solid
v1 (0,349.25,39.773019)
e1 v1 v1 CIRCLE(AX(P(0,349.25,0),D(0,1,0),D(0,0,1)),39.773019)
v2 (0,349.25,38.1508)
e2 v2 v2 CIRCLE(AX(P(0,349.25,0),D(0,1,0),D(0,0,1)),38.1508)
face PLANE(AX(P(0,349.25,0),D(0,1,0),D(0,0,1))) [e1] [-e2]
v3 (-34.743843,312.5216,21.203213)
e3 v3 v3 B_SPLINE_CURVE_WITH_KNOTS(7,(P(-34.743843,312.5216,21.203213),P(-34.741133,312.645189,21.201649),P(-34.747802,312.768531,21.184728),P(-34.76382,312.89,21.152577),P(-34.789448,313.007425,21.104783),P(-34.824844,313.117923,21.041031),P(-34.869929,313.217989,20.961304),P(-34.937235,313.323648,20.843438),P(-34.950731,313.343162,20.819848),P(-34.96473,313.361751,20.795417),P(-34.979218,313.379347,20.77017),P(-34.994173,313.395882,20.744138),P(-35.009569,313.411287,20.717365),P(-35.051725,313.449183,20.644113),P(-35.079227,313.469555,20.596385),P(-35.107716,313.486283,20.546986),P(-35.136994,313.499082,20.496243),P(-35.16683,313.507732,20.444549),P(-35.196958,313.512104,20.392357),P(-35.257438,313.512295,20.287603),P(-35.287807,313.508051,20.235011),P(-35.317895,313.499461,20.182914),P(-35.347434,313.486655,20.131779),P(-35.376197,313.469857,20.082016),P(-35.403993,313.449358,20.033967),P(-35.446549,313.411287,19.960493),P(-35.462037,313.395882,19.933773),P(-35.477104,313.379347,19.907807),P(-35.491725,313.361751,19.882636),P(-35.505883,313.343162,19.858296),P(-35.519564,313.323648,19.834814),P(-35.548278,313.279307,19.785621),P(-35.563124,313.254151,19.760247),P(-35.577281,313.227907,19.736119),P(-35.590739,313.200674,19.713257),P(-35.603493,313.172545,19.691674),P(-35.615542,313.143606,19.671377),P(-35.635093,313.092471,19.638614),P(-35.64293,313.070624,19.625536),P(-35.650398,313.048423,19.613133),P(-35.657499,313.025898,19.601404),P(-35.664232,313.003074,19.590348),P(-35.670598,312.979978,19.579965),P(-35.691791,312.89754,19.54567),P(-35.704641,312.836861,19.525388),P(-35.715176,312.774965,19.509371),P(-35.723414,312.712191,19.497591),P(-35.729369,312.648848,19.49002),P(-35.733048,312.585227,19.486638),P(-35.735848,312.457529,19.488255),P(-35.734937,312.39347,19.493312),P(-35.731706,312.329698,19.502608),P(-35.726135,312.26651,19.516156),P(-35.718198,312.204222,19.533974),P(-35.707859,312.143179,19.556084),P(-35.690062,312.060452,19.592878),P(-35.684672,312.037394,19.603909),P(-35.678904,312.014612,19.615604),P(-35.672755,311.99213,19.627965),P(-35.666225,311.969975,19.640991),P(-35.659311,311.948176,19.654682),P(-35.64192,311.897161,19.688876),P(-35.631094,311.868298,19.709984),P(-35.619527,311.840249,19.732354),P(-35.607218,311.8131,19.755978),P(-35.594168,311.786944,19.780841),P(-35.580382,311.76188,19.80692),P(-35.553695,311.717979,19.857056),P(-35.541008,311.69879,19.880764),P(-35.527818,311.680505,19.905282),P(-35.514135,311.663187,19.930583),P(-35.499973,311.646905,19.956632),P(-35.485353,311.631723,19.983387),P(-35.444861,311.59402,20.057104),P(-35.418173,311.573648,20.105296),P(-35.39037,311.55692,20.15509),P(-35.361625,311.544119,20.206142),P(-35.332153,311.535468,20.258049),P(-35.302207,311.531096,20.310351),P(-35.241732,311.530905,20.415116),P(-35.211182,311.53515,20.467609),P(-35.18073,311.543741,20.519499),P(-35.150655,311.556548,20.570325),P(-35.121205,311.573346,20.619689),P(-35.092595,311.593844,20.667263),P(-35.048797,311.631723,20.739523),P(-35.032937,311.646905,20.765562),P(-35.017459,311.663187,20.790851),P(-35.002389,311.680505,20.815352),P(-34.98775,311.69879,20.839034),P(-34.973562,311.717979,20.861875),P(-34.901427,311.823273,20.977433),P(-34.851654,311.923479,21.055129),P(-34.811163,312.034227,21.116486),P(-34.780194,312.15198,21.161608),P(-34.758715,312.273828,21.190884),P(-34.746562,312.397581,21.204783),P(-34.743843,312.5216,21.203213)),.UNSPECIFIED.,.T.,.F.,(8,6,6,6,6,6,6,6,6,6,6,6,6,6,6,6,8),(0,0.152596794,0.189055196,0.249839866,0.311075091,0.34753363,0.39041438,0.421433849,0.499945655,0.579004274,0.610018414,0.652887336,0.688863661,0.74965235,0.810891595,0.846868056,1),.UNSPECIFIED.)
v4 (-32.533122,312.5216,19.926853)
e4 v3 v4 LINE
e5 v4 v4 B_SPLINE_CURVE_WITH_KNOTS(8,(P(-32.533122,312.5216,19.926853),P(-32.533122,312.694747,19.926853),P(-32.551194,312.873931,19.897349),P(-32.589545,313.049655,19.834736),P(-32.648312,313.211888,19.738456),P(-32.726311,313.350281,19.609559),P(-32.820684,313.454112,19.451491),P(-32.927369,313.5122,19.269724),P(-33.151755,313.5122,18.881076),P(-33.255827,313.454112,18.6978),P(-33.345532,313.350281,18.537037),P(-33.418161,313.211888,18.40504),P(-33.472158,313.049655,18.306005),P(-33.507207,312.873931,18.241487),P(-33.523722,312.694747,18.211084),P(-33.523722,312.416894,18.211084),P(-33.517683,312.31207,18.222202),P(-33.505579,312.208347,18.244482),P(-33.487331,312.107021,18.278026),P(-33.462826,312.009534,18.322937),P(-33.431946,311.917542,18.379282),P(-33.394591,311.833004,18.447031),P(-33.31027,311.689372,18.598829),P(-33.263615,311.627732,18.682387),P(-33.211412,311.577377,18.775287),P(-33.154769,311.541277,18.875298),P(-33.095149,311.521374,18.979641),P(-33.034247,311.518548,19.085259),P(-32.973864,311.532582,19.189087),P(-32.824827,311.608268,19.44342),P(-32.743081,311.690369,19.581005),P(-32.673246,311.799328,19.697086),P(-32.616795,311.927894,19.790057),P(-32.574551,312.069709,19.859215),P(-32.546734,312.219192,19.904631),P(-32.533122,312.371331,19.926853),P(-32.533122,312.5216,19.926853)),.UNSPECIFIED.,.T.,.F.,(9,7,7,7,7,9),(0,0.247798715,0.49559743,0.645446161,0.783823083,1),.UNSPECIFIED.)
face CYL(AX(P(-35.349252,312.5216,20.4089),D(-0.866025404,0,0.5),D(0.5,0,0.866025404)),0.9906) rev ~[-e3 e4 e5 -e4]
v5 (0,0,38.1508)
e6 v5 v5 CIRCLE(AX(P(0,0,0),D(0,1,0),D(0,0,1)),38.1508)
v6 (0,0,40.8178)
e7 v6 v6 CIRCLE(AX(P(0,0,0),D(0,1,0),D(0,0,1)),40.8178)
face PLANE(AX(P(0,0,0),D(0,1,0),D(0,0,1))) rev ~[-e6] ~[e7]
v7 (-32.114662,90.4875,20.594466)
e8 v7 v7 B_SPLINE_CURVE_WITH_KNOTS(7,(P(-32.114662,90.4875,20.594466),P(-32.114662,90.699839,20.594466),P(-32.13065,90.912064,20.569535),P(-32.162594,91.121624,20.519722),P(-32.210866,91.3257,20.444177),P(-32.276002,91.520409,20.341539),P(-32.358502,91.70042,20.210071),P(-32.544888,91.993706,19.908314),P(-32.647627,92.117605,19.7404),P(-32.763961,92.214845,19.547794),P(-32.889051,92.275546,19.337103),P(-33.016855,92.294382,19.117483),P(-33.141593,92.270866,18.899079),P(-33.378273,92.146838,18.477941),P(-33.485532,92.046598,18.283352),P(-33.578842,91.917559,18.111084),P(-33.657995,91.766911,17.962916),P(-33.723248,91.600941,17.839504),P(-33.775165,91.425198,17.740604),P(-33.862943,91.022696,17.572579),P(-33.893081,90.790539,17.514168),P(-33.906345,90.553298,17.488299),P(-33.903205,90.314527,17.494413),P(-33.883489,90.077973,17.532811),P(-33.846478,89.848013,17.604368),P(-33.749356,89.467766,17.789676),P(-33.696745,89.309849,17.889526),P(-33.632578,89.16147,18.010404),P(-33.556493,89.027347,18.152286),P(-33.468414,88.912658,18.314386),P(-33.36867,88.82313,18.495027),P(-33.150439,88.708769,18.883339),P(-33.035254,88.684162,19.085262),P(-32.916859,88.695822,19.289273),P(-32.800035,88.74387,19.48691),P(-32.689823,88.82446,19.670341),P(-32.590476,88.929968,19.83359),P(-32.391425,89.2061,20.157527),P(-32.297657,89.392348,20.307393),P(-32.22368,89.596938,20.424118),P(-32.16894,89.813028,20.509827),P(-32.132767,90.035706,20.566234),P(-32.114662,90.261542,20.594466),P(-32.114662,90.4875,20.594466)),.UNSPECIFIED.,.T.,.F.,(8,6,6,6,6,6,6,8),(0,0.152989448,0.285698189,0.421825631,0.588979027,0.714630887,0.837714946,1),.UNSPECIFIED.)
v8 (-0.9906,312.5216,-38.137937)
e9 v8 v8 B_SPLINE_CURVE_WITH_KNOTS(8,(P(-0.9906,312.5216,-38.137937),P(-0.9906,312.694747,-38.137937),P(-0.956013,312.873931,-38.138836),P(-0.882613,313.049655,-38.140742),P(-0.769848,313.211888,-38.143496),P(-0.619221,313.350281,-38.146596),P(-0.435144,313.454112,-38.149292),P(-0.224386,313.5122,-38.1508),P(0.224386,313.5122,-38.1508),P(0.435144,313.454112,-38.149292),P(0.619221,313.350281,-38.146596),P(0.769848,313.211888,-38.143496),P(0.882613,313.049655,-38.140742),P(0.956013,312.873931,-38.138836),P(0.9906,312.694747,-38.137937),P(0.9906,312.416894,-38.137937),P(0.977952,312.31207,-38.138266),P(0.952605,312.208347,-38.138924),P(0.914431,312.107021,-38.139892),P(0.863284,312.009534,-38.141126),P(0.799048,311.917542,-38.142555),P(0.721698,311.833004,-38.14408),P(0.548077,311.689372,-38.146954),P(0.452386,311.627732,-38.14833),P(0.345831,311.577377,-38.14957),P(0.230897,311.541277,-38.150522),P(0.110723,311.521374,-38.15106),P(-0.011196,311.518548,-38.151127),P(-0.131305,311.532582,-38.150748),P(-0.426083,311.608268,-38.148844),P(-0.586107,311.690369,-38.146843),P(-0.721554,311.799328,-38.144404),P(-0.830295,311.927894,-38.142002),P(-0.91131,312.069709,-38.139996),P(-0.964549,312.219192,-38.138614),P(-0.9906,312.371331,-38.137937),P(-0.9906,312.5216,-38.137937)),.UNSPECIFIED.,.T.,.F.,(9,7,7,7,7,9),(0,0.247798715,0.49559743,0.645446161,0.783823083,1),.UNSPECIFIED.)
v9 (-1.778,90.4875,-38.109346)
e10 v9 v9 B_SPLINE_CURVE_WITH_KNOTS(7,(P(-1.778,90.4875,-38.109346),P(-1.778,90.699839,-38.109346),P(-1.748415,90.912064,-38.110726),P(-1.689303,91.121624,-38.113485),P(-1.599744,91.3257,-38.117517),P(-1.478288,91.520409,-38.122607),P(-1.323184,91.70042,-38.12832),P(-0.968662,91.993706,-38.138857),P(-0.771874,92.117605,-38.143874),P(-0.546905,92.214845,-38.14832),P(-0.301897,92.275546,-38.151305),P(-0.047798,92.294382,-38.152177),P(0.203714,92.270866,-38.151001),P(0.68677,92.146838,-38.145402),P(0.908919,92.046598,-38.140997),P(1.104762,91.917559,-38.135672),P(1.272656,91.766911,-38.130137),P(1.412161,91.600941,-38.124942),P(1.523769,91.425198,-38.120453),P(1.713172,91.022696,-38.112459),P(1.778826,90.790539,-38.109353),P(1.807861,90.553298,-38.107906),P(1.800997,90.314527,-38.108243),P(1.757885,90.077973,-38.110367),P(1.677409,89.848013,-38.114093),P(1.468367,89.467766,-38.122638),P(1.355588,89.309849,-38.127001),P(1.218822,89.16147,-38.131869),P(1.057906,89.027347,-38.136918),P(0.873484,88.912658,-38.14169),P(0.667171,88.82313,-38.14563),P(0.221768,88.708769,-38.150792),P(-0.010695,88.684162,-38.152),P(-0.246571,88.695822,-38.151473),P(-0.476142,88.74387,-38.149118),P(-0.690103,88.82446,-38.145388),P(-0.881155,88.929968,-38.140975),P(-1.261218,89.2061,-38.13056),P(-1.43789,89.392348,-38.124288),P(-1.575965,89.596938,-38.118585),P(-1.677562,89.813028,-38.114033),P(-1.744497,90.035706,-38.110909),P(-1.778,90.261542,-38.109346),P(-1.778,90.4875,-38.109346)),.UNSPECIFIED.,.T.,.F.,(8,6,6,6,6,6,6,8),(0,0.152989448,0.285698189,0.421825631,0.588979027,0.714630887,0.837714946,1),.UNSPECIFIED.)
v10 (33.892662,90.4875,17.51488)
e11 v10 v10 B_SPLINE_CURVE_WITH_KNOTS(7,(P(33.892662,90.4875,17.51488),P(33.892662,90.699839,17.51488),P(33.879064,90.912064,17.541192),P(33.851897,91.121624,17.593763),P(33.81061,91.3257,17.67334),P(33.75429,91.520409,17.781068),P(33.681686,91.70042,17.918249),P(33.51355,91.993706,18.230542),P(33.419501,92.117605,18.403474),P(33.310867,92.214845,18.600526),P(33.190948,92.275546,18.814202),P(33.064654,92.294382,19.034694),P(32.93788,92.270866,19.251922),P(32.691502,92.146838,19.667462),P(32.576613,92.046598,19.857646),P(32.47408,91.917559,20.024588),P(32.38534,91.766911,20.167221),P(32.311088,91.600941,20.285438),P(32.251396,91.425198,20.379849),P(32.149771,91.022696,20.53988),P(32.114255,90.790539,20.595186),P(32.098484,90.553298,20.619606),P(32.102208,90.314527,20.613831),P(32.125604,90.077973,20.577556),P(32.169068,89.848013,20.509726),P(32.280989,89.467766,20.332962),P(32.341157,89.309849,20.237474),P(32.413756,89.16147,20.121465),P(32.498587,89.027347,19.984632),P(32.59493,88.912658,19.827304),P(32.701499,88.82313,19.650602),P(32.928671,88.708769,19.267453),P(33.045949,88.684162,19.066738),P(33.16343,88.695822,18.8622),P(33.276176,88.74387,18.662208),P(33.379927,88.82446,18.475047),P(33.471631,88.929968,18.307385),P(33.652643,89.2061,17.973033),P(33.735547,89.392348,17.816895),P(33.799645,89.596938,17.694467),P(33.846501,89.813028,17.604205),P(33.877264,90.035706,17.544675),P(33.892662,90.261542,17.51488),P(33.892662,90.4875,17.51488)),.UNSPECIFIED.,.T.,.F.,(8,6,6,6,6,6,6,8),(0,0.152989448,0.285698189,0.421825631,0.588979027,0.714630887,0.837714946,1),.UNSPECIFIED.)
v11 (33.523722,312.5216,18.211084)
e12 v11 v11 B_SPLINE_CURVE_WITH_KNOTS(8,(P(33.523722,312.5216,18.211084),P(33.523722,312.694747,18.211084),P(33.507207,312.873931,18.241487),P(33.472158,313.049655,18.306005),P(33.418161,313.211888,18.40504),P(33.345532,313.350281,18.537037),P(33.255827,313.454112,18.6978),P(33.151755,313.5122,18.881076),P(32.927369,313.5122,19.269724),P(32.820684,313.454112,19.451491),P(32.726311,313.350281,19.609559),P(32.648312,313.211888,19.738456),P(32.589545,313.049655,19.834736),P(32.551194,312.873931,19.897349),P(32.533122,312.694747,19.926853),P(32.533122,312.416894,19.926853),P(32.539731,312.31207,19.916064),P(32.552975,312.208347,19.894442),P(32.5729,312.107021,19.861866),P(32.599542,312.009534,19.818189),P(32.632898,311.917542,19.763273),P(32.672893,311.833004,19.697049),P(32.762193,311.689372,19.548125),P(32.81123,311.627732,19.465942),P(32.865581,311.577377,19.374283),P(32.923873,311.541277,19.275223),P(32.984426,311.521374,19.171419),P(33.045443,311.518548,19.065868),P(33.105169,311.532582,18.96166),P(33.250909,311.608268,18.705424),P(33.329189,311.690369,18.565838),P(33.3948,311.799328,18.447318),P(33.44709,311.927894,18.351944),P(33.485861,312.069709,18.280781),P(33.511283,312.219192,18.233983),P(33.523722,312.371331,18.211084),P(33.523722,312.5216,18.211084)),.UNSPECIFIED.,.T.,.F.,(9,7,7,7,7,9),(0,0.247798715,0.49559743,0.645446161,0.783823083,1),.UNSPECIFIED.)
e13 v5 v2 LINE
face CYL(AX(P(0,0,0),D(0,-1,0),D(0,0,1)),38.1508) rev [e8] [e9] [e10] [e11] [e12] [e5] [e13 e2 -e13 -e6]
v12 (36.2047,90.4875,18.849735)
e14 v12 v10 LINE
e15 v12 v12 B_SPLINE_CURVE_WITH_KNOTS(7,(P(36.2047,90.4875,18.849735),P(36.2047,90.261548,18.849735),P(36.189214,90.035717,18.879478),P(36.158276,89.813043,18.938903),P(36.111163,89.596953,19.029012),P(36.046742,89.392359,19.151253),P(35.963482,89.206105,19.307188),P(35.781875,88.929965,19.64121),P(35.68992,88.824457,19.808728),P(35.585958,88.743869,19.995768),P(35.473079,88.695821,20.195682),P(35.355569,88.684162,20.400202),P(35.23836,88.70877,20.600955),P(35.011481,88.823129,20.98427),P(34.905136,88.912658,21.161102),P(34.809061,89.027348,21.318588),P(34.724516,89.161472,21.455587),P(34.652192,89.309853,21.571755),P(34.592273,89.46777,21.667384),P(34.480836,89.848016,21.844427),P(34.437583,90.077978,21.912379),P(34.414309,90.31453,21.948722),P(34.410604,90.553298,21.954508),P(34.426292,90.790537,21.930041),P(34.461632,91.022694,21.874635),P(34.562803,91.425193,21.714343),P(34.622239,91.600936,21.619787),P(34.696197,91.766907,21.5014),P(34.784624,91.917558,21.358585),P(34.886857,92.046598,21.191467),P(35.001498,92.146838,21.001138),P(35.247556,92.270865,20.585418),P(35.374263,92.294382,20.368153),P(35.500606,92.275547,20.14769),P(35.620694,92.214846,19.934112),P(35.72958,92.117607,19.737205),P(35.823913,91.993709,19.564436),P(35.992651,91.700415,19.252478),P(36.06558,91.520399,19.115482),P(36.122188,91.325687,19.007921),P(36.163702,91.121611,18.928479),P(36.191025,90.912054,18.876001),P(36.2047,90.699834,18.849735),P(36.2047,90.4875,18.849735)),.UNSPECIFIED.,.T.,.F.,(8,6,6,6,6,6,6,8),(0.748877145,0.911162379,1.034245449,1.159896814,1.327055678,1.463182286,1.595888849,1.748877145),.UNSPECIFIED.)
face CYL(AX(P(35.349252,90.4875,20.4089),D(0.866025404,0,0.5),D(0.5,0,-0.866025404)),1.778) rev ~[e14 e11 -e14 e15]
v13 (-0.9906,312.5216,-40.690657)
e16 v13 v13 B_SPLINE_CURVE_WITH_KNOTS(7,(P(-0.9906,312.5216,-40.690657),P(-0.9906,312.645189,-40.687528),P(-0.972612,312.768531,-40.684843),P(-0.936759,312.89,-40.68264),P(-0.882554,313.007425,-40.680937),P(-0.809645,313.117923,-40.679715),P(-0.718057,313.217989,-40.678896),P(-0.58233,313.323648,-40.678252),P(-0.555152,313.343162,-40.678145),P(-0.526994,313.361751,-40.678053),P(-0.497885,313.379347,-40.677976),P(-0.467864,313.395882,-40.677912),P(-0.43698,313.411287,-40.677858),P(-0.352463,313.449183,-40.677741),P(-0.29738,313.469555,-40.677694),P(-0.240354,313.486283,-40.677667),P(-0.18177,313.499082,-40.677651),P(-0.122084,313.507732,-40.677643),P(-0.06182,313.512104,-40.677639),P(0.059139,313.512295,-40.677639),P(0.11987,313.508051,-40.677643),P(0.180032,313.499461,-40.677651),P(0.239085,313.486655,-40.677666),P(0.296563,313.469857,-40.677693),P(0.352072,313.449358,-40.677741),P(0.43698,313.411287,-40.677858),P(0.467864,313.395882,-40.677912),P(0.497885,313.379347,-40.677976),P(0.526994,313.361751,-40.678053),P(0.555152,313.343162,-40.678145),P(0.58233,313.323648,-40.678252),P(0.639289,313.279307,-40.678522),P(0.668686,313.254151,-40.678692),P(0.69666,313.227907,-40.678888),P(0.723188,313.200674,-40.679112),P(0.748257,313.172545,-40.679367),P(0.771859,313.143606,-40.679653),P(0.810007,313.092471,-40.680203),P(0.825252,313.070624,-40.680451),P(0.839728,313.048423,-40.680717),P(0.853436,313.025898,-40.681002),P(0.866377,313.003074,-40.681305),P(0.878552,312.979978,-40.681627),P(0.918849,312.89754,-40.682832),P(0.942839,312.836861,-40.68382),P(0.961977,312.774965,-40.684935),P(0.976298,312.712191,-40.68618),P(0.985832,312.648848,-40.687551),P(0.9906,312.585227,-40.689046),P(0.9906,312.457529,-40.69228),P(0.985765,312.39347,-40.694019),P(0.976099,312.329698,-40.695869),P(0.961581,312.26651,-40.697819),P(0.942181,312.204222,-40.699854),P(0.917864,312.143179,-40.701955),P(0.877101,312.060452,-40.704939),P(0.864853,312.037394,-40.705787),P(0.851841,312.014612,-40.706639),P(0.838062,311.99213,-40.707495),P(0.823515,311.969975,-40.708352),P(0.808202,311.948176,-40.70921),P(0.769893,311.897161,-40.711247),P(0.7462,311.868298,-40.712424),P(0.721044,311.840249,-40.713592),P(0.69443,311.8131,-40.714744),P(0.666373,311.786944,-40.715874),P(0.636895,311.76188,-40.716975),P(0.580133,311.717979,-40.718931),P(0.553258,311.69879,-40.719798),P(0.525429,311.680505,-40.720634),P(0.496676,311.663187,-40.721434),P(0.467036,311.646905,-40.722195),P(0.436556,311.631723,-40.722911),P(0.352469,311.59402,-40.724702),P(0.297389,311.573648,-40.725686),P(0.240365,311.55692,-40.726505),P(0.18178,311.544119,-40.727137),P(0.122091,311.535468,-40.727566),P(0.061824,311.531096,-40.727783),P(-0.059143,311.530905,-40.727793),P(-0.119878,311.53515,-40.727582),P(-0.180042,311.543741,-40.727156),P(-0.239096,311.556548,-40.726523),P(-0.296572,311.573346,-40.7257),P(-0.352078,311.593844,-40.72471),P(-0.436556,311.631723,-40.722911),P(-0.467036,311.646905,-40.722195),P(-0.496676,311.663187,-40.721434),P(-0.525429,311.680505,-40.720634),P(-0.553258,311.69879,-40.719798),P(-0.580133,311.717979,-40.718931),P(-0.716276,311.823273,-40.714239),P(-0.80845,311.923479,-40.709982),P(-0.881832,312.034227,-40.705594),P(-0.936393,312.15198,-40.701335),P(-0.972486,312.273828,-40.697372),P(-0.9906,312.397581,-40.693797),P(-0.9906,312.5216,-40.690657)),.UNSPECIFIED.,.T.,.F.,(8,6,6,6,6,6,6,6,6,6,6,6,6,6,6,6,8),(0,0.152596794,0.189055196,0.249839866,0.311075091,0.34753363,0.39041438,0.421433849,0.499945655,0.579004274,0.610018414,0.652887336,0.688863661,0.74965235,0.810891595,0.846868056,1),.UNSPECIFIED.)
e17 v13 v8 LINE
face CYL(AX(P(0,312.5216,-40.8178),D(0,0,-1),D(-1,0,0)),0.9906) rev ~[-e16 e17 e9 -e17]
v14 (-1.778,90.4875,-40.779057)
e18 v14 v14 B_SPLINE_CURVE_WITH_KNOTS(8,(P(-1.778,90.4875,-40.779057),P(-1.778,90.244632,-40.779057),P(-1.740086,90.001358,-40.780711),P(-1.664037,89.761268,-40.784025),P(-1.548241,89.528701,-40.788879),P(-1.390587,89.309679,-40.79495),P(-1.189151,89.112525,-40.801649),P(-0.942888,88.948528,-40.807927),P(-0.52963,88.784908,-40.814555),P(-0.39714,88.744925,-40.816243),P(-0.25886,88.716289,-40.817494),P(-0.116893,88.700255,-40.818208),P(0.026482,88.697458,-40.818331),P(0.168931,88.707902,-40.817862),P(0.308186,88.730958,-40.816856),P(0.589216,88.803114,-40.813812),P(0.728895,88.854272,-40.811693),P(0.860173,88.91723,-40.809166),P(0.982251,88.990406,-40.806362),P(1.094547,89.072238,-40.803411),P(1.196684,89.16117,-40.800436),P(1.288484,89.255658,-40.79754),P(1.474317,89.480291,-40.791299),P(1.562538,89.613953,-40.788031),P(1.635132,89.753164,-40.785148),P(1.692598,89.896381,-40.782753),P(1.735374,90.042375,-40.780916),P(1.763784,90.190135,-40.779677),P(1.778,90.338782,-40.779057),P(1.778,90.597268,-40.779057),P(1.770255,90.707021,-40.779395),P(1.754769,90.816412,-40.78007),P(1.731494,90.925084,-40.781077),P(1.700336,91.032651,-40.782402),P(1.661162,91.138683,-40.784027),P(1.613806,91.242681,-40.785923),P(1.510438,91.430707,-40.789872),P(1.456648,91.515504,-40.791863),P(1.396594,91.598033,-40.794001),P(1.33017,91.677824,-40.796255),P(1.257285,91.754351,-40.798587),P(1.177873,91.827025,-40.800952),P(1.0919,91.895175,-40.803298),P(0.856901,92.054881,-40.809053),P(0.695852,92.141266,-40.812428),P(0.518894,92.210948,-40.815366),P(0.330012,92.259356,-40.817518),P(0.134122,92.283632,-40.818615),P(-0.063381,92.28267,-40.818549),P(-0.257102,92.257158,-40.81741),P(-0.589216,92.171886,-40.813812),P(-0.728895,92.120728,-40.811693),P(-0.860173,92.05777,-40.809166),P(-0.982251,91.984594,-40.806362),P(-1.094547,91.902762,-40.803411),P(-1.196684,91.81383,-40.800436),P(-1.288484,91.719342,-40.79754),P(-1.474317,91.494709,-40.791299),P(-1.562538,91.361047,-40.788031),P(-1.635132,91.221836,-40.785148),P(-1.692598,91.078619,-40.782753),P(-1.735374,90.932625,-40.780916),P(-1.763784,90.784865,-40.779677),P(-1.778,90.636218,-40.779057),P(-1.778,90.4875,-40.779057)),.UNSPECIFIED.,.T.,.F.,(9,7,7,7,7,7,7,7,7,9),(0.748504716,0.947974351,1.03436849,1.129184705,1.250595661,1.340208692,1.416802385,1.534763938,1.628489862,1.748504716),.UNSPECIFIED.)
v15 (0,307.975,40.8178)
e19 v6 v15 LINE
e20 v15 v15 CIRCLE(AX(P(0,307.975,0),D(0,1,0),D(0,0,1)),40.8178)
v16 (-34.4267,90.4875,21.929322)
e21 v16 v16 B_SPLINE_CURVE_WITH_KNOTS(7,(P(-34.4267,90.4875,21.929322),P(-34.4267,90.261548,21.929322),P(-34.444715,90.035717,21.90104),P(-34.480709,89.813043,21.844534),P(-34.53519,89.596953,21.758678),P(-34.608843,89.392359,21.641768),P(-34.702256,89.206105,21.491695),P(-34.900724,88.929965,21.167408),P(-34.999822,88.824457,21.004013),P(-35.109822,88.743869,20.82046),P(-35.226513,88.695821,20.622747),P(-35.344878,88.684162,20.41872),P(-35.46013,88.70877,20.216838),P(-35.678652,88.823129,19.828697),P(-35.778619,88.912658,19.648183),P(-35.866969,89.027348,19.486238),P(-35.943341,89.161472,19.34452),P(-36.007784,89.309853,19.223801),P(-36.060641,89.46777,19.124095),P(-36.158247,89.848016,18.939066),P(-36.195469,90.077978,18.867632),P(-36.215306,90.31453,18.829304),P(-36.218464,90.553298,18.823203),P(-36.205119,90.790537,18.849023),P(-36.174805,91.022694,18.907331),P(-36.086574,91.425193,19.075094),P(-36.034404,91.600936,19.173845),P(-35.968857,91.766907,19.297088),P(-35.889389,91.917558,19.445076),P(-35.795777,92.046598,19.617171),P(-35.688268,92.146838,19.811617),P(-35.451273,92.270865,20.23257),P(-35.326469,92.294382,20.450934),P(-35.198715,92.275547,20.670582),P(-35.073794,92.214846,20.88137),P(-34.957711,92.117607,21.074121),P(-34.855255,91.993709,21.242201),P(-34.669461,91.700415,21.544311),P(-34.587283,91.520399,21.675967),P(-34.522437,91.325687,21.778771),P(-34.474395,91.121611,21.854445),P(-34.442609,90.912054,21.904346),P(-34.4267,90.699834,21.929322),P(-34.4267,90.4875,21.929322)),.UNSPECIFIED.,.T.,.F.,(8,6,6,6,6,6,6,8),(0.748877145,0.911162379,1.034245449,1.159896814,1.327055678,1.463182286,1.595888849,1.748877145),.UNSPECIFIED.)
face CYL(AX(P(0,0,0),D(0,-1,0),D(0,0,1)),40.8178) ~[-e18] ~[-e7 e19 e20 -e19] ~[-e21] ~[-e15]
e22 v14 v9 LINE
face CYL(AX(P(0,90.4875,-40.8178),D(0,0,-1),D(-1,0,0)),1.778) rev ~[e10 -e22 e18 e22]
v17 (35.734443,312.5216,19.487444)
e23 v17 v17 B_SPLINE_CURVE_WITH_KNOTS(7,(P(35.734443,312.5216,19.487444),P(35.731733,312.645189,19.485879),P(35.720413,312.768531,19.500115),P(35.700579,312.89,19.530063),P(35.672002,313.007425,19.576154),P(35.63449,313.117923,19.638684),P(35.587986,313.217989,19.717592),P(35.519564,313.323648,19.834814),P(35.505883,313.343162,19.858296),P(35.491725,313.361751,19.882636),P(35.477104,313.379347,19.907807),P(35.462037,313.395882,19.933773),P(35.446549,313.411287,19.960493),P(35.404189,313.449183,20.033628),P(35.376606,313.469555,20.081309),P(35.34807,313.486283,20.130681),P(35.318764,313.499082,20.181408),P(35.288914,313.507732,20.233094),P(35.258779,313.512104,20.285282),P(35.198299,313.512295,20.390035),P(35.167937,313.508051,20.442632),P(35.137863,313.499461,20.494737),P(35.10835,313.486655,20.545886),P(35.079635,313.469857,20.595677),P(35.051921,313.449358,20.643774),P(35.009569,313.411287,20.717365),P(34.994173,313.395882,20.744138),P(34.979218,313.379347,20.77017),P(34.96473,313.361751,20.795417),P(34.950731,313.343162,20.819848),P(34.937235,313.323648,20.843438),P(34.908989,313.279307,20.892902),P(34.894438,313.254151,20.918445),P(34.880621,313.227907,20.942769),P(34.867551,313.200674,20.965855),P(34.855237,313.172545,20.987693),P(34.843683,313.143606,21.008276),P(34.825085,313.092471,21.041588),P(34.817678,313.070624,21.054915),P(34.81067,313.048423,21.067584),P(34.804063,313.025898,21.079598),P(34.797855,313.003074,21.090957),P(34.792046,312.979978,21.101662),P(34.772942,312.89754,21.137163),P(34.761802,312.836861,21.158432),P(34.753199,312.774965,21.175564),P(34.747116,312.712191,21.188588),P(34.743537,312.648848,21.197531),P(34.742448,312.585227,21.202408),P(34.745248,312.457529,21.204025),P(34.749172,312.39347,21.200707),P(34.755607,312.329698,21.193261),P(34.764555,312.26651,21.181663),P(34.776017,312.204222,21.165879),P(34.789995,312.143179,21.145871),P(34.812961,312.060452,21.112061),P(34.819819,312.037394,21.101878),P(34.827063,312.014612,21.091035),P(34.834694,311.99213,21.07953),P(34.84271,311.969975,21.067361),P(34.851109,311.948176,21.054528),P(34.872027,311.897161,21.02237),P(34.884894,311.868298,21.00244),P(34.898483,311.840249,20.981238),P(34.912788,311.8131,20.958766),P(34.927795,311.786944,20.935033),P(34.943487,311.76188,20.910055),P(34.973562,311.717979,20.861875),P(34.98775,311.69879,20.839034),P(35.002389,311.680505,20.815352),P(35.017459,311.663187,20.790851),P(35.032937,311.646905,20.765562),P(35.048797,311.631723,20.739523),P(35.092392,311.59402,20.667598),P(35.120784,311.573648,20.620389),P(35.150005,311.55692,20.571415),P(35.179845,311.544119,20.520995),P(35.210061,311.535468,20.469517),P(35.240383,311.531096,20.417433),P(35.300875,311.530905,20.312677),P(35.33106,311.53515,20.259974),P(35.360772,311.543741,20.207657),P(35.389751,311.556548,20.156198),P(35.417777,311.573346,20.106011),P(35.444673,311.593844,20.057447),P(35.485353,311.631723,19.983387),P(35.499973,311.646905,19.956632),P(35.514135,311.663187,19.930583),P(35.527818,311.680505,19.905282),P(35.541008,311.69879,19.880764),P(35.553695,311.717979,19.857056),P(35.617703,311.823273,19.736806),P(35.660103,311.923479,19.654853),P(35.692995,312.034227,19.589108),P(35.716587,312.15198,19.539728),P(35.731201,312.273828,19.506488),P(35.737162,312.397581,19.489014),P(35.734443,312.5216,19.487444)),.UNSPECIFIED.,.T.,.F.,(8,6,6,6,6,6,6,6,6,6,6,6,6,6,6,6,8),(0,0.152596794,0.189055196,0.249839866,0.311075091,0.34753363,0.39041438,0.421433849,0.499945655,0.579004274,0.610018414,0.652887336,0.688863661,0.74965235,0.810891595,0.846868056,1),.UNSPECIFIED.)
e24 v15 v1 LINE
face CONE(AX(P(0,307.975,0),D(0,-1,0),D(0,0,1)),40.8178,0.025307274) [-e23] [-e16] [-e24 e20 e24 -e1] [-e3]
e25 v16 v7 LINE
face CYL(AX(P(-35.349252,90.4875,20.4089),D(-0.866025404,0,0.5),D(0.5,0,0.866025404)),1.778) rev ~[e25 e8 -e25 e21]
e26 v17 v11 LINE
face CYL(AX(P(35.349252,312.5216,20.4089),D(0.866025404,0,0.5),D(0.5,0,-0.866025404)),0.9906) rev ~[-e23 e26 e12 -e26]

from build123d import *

# Parameters (mm, degrees)
SKETCH1_R                    = 40.8178
SKETCH1_R_2                  = 38.1508
BOSS_EXTRUDE1_DEPTH          = 349.25
SANDING_CHAMFER_SIZE         = 41.275
SANDING_CHAMFER_SIZE2        = 1.044780796
AIRFRAME_BOLT_CUT_REACH      = 364.665
AIRFRAME_BOLT_CUT_END_RADIUS = 38.1508
SKETCH2_R                    = 1.778
AIRFRAME_BOLT_PATTERN_COUNT  = 3
SHEAR_PIN_CUT_REACH          = 364.665
SHEAR_PIN_CUT_END_RADIUS     = 38.1508
SKETCH3_R                    = 0.9906
SHEAR_PIN_PATTERN_COUNT      = 3


with BuildPart() as part:
    # Sketch1 → Boss-Extrude1 (new body)
    with BuildSketch(Plane(origin=(0, 0, 0), x_dir=(1, 0, 0), z_dir=(0, 1, 0))):
        with Locations(Location((0, 0, 0), (0, 0, 270))):
            Circle(SKETCH1_R)
        with Locations(Location((0, 0, 0), (0, 0, 270))):
            Circle(SKETCH1_R_2, mode=Mode.SUBTRACT)
    extrude(amount=BOSS_EXTRUDE1_DEPTH)

    # Sanding Chamfer
    sanding_chamfer_edges = [part.edges().sort_by_distance(p)[0] for p in [
        (0, 349.25, -40.8178),
    ]]
    sanding_chamfer_side = [part.faces().sort_by_distance(p)[0] for p in [
        (0, 174.625, -40.8178),
    ]]
    chamfer(sanding_chamfer_edges, length=SANDING_CHAMFER_SIZE, length2=SANDING_CHAMFER_SIZE2, reference=sanding_chamfer_side[0])

    # Airframe Bolt Cut: up to this cylinder (the profile starts outside it)
    airframe_bolt_cut_end = Plane(origin=(0, 90.4875, 0), z_dir=(0, -1, 0)) * Cylinder(AIRFRAME_BOLT_CUT_END_RADIUS, 806.6316, mode=Mode.PRIVATE)
    # Sketch2 → Airframe Bolt Cut (cut, up to the surface)
    with BuildSketch(Plane(origin=(35.349251727, 0, 20.4089), x_dir=(0, -1, 0), z_dir=(0.866025403784438, 0, 0.500000000000001)), mode=Mode.PRIVATE) as airframe_bolt_cut_sk1:
        with Locations(Location((-90.4875, 0, 0), (0, 0, 90))):
            Circle(SKETCH2_R)
    airframe_bolt_cut_tool1 = extrude(airframe_bolt_cut_sk1.sketch, amount=-AIRFRAME_BOLT_CUT_REACH, mode=Mode.PRIVATE) - airframe_bolt_cut_end
    airframe_bolt_cut = airframe_bolt_cut_tool1.solids().sort_by_distance((35.349252, 90.4875, 20.4089))[0]
    add(airframe_bolt_cut, mode=Mode.SUBTRACT)

    # Airframe Bolt Pattern: Airframe Bolt Cut ×3 about axis
    airframe_bolt_pattern_axis = Axis((0, -55, 0), (0, 1, 0))
    for i in range(1, AIRFRAME_BOLT_PATTERN_COUNT):
        add(airframe_bolt_cut.rotate(airframe_bolt_pattern_axis, i * 360 / AIRFRAME_BOLT_PATTERN_COUNT), mode=Mode.SUBTRACT)

    # Shear Pin Cut: up to this cylinder (the profile starts outside it)
    shear_pin_cut_end = Plane(origin=(0, 312.5216, 0), z_dir=(0, -1, 0)) * Cylinder(SHEAR_PIN_CUT_END_RADIUS, 806.6316, mode=Mode.PRIVATE)
    # Sketch3 → Shear Pin Cut (cut, up to the surface)
    with BuildSketch(Plane(origin=(35.349251727, 0, 20.4089), x_dir=(0, -1, 0), z_dir=(0.866025403784438, 0, 0.500000000000001)), mode=Mode.PRIVATE) as shear_pin_cut_sk1:
        with Locations(Location((-312.5216, 0, 0), (0, 0, 90))):
            Circle(SKETCH3_R)
    shear_pin_cut_tool1 = extrude(shear_pin_cut_sk1.sketch, amount=-SHEAR_PIN_CUT_REACH, mode=Mode.PRIVATE) - shear_pin_cut_end
    shear_pin_cut = shear_pin_cut_tool1.solids().sort_by_distance((35.349252, 312.5216, 20.4089))[0]
    add(shear_pin_cut, mode=Mode.SUBTRACT)

    # Shear Pin Pattern: Shear Pin Cut ×3 about axis
    shear_pin_pattern_axis = Axis((0, -55, 0), (0, 1, 0))
    for i in range(1, SHEAR_PIN_PATTERN_COUNT):
        add(shear_pin_cut.rotate(shear_pin_pattern_axis, i * 360 / SHEAR_PIN_PATTERN_COUNT), mode=Mode.SUBTRACT)


solid = part.part
